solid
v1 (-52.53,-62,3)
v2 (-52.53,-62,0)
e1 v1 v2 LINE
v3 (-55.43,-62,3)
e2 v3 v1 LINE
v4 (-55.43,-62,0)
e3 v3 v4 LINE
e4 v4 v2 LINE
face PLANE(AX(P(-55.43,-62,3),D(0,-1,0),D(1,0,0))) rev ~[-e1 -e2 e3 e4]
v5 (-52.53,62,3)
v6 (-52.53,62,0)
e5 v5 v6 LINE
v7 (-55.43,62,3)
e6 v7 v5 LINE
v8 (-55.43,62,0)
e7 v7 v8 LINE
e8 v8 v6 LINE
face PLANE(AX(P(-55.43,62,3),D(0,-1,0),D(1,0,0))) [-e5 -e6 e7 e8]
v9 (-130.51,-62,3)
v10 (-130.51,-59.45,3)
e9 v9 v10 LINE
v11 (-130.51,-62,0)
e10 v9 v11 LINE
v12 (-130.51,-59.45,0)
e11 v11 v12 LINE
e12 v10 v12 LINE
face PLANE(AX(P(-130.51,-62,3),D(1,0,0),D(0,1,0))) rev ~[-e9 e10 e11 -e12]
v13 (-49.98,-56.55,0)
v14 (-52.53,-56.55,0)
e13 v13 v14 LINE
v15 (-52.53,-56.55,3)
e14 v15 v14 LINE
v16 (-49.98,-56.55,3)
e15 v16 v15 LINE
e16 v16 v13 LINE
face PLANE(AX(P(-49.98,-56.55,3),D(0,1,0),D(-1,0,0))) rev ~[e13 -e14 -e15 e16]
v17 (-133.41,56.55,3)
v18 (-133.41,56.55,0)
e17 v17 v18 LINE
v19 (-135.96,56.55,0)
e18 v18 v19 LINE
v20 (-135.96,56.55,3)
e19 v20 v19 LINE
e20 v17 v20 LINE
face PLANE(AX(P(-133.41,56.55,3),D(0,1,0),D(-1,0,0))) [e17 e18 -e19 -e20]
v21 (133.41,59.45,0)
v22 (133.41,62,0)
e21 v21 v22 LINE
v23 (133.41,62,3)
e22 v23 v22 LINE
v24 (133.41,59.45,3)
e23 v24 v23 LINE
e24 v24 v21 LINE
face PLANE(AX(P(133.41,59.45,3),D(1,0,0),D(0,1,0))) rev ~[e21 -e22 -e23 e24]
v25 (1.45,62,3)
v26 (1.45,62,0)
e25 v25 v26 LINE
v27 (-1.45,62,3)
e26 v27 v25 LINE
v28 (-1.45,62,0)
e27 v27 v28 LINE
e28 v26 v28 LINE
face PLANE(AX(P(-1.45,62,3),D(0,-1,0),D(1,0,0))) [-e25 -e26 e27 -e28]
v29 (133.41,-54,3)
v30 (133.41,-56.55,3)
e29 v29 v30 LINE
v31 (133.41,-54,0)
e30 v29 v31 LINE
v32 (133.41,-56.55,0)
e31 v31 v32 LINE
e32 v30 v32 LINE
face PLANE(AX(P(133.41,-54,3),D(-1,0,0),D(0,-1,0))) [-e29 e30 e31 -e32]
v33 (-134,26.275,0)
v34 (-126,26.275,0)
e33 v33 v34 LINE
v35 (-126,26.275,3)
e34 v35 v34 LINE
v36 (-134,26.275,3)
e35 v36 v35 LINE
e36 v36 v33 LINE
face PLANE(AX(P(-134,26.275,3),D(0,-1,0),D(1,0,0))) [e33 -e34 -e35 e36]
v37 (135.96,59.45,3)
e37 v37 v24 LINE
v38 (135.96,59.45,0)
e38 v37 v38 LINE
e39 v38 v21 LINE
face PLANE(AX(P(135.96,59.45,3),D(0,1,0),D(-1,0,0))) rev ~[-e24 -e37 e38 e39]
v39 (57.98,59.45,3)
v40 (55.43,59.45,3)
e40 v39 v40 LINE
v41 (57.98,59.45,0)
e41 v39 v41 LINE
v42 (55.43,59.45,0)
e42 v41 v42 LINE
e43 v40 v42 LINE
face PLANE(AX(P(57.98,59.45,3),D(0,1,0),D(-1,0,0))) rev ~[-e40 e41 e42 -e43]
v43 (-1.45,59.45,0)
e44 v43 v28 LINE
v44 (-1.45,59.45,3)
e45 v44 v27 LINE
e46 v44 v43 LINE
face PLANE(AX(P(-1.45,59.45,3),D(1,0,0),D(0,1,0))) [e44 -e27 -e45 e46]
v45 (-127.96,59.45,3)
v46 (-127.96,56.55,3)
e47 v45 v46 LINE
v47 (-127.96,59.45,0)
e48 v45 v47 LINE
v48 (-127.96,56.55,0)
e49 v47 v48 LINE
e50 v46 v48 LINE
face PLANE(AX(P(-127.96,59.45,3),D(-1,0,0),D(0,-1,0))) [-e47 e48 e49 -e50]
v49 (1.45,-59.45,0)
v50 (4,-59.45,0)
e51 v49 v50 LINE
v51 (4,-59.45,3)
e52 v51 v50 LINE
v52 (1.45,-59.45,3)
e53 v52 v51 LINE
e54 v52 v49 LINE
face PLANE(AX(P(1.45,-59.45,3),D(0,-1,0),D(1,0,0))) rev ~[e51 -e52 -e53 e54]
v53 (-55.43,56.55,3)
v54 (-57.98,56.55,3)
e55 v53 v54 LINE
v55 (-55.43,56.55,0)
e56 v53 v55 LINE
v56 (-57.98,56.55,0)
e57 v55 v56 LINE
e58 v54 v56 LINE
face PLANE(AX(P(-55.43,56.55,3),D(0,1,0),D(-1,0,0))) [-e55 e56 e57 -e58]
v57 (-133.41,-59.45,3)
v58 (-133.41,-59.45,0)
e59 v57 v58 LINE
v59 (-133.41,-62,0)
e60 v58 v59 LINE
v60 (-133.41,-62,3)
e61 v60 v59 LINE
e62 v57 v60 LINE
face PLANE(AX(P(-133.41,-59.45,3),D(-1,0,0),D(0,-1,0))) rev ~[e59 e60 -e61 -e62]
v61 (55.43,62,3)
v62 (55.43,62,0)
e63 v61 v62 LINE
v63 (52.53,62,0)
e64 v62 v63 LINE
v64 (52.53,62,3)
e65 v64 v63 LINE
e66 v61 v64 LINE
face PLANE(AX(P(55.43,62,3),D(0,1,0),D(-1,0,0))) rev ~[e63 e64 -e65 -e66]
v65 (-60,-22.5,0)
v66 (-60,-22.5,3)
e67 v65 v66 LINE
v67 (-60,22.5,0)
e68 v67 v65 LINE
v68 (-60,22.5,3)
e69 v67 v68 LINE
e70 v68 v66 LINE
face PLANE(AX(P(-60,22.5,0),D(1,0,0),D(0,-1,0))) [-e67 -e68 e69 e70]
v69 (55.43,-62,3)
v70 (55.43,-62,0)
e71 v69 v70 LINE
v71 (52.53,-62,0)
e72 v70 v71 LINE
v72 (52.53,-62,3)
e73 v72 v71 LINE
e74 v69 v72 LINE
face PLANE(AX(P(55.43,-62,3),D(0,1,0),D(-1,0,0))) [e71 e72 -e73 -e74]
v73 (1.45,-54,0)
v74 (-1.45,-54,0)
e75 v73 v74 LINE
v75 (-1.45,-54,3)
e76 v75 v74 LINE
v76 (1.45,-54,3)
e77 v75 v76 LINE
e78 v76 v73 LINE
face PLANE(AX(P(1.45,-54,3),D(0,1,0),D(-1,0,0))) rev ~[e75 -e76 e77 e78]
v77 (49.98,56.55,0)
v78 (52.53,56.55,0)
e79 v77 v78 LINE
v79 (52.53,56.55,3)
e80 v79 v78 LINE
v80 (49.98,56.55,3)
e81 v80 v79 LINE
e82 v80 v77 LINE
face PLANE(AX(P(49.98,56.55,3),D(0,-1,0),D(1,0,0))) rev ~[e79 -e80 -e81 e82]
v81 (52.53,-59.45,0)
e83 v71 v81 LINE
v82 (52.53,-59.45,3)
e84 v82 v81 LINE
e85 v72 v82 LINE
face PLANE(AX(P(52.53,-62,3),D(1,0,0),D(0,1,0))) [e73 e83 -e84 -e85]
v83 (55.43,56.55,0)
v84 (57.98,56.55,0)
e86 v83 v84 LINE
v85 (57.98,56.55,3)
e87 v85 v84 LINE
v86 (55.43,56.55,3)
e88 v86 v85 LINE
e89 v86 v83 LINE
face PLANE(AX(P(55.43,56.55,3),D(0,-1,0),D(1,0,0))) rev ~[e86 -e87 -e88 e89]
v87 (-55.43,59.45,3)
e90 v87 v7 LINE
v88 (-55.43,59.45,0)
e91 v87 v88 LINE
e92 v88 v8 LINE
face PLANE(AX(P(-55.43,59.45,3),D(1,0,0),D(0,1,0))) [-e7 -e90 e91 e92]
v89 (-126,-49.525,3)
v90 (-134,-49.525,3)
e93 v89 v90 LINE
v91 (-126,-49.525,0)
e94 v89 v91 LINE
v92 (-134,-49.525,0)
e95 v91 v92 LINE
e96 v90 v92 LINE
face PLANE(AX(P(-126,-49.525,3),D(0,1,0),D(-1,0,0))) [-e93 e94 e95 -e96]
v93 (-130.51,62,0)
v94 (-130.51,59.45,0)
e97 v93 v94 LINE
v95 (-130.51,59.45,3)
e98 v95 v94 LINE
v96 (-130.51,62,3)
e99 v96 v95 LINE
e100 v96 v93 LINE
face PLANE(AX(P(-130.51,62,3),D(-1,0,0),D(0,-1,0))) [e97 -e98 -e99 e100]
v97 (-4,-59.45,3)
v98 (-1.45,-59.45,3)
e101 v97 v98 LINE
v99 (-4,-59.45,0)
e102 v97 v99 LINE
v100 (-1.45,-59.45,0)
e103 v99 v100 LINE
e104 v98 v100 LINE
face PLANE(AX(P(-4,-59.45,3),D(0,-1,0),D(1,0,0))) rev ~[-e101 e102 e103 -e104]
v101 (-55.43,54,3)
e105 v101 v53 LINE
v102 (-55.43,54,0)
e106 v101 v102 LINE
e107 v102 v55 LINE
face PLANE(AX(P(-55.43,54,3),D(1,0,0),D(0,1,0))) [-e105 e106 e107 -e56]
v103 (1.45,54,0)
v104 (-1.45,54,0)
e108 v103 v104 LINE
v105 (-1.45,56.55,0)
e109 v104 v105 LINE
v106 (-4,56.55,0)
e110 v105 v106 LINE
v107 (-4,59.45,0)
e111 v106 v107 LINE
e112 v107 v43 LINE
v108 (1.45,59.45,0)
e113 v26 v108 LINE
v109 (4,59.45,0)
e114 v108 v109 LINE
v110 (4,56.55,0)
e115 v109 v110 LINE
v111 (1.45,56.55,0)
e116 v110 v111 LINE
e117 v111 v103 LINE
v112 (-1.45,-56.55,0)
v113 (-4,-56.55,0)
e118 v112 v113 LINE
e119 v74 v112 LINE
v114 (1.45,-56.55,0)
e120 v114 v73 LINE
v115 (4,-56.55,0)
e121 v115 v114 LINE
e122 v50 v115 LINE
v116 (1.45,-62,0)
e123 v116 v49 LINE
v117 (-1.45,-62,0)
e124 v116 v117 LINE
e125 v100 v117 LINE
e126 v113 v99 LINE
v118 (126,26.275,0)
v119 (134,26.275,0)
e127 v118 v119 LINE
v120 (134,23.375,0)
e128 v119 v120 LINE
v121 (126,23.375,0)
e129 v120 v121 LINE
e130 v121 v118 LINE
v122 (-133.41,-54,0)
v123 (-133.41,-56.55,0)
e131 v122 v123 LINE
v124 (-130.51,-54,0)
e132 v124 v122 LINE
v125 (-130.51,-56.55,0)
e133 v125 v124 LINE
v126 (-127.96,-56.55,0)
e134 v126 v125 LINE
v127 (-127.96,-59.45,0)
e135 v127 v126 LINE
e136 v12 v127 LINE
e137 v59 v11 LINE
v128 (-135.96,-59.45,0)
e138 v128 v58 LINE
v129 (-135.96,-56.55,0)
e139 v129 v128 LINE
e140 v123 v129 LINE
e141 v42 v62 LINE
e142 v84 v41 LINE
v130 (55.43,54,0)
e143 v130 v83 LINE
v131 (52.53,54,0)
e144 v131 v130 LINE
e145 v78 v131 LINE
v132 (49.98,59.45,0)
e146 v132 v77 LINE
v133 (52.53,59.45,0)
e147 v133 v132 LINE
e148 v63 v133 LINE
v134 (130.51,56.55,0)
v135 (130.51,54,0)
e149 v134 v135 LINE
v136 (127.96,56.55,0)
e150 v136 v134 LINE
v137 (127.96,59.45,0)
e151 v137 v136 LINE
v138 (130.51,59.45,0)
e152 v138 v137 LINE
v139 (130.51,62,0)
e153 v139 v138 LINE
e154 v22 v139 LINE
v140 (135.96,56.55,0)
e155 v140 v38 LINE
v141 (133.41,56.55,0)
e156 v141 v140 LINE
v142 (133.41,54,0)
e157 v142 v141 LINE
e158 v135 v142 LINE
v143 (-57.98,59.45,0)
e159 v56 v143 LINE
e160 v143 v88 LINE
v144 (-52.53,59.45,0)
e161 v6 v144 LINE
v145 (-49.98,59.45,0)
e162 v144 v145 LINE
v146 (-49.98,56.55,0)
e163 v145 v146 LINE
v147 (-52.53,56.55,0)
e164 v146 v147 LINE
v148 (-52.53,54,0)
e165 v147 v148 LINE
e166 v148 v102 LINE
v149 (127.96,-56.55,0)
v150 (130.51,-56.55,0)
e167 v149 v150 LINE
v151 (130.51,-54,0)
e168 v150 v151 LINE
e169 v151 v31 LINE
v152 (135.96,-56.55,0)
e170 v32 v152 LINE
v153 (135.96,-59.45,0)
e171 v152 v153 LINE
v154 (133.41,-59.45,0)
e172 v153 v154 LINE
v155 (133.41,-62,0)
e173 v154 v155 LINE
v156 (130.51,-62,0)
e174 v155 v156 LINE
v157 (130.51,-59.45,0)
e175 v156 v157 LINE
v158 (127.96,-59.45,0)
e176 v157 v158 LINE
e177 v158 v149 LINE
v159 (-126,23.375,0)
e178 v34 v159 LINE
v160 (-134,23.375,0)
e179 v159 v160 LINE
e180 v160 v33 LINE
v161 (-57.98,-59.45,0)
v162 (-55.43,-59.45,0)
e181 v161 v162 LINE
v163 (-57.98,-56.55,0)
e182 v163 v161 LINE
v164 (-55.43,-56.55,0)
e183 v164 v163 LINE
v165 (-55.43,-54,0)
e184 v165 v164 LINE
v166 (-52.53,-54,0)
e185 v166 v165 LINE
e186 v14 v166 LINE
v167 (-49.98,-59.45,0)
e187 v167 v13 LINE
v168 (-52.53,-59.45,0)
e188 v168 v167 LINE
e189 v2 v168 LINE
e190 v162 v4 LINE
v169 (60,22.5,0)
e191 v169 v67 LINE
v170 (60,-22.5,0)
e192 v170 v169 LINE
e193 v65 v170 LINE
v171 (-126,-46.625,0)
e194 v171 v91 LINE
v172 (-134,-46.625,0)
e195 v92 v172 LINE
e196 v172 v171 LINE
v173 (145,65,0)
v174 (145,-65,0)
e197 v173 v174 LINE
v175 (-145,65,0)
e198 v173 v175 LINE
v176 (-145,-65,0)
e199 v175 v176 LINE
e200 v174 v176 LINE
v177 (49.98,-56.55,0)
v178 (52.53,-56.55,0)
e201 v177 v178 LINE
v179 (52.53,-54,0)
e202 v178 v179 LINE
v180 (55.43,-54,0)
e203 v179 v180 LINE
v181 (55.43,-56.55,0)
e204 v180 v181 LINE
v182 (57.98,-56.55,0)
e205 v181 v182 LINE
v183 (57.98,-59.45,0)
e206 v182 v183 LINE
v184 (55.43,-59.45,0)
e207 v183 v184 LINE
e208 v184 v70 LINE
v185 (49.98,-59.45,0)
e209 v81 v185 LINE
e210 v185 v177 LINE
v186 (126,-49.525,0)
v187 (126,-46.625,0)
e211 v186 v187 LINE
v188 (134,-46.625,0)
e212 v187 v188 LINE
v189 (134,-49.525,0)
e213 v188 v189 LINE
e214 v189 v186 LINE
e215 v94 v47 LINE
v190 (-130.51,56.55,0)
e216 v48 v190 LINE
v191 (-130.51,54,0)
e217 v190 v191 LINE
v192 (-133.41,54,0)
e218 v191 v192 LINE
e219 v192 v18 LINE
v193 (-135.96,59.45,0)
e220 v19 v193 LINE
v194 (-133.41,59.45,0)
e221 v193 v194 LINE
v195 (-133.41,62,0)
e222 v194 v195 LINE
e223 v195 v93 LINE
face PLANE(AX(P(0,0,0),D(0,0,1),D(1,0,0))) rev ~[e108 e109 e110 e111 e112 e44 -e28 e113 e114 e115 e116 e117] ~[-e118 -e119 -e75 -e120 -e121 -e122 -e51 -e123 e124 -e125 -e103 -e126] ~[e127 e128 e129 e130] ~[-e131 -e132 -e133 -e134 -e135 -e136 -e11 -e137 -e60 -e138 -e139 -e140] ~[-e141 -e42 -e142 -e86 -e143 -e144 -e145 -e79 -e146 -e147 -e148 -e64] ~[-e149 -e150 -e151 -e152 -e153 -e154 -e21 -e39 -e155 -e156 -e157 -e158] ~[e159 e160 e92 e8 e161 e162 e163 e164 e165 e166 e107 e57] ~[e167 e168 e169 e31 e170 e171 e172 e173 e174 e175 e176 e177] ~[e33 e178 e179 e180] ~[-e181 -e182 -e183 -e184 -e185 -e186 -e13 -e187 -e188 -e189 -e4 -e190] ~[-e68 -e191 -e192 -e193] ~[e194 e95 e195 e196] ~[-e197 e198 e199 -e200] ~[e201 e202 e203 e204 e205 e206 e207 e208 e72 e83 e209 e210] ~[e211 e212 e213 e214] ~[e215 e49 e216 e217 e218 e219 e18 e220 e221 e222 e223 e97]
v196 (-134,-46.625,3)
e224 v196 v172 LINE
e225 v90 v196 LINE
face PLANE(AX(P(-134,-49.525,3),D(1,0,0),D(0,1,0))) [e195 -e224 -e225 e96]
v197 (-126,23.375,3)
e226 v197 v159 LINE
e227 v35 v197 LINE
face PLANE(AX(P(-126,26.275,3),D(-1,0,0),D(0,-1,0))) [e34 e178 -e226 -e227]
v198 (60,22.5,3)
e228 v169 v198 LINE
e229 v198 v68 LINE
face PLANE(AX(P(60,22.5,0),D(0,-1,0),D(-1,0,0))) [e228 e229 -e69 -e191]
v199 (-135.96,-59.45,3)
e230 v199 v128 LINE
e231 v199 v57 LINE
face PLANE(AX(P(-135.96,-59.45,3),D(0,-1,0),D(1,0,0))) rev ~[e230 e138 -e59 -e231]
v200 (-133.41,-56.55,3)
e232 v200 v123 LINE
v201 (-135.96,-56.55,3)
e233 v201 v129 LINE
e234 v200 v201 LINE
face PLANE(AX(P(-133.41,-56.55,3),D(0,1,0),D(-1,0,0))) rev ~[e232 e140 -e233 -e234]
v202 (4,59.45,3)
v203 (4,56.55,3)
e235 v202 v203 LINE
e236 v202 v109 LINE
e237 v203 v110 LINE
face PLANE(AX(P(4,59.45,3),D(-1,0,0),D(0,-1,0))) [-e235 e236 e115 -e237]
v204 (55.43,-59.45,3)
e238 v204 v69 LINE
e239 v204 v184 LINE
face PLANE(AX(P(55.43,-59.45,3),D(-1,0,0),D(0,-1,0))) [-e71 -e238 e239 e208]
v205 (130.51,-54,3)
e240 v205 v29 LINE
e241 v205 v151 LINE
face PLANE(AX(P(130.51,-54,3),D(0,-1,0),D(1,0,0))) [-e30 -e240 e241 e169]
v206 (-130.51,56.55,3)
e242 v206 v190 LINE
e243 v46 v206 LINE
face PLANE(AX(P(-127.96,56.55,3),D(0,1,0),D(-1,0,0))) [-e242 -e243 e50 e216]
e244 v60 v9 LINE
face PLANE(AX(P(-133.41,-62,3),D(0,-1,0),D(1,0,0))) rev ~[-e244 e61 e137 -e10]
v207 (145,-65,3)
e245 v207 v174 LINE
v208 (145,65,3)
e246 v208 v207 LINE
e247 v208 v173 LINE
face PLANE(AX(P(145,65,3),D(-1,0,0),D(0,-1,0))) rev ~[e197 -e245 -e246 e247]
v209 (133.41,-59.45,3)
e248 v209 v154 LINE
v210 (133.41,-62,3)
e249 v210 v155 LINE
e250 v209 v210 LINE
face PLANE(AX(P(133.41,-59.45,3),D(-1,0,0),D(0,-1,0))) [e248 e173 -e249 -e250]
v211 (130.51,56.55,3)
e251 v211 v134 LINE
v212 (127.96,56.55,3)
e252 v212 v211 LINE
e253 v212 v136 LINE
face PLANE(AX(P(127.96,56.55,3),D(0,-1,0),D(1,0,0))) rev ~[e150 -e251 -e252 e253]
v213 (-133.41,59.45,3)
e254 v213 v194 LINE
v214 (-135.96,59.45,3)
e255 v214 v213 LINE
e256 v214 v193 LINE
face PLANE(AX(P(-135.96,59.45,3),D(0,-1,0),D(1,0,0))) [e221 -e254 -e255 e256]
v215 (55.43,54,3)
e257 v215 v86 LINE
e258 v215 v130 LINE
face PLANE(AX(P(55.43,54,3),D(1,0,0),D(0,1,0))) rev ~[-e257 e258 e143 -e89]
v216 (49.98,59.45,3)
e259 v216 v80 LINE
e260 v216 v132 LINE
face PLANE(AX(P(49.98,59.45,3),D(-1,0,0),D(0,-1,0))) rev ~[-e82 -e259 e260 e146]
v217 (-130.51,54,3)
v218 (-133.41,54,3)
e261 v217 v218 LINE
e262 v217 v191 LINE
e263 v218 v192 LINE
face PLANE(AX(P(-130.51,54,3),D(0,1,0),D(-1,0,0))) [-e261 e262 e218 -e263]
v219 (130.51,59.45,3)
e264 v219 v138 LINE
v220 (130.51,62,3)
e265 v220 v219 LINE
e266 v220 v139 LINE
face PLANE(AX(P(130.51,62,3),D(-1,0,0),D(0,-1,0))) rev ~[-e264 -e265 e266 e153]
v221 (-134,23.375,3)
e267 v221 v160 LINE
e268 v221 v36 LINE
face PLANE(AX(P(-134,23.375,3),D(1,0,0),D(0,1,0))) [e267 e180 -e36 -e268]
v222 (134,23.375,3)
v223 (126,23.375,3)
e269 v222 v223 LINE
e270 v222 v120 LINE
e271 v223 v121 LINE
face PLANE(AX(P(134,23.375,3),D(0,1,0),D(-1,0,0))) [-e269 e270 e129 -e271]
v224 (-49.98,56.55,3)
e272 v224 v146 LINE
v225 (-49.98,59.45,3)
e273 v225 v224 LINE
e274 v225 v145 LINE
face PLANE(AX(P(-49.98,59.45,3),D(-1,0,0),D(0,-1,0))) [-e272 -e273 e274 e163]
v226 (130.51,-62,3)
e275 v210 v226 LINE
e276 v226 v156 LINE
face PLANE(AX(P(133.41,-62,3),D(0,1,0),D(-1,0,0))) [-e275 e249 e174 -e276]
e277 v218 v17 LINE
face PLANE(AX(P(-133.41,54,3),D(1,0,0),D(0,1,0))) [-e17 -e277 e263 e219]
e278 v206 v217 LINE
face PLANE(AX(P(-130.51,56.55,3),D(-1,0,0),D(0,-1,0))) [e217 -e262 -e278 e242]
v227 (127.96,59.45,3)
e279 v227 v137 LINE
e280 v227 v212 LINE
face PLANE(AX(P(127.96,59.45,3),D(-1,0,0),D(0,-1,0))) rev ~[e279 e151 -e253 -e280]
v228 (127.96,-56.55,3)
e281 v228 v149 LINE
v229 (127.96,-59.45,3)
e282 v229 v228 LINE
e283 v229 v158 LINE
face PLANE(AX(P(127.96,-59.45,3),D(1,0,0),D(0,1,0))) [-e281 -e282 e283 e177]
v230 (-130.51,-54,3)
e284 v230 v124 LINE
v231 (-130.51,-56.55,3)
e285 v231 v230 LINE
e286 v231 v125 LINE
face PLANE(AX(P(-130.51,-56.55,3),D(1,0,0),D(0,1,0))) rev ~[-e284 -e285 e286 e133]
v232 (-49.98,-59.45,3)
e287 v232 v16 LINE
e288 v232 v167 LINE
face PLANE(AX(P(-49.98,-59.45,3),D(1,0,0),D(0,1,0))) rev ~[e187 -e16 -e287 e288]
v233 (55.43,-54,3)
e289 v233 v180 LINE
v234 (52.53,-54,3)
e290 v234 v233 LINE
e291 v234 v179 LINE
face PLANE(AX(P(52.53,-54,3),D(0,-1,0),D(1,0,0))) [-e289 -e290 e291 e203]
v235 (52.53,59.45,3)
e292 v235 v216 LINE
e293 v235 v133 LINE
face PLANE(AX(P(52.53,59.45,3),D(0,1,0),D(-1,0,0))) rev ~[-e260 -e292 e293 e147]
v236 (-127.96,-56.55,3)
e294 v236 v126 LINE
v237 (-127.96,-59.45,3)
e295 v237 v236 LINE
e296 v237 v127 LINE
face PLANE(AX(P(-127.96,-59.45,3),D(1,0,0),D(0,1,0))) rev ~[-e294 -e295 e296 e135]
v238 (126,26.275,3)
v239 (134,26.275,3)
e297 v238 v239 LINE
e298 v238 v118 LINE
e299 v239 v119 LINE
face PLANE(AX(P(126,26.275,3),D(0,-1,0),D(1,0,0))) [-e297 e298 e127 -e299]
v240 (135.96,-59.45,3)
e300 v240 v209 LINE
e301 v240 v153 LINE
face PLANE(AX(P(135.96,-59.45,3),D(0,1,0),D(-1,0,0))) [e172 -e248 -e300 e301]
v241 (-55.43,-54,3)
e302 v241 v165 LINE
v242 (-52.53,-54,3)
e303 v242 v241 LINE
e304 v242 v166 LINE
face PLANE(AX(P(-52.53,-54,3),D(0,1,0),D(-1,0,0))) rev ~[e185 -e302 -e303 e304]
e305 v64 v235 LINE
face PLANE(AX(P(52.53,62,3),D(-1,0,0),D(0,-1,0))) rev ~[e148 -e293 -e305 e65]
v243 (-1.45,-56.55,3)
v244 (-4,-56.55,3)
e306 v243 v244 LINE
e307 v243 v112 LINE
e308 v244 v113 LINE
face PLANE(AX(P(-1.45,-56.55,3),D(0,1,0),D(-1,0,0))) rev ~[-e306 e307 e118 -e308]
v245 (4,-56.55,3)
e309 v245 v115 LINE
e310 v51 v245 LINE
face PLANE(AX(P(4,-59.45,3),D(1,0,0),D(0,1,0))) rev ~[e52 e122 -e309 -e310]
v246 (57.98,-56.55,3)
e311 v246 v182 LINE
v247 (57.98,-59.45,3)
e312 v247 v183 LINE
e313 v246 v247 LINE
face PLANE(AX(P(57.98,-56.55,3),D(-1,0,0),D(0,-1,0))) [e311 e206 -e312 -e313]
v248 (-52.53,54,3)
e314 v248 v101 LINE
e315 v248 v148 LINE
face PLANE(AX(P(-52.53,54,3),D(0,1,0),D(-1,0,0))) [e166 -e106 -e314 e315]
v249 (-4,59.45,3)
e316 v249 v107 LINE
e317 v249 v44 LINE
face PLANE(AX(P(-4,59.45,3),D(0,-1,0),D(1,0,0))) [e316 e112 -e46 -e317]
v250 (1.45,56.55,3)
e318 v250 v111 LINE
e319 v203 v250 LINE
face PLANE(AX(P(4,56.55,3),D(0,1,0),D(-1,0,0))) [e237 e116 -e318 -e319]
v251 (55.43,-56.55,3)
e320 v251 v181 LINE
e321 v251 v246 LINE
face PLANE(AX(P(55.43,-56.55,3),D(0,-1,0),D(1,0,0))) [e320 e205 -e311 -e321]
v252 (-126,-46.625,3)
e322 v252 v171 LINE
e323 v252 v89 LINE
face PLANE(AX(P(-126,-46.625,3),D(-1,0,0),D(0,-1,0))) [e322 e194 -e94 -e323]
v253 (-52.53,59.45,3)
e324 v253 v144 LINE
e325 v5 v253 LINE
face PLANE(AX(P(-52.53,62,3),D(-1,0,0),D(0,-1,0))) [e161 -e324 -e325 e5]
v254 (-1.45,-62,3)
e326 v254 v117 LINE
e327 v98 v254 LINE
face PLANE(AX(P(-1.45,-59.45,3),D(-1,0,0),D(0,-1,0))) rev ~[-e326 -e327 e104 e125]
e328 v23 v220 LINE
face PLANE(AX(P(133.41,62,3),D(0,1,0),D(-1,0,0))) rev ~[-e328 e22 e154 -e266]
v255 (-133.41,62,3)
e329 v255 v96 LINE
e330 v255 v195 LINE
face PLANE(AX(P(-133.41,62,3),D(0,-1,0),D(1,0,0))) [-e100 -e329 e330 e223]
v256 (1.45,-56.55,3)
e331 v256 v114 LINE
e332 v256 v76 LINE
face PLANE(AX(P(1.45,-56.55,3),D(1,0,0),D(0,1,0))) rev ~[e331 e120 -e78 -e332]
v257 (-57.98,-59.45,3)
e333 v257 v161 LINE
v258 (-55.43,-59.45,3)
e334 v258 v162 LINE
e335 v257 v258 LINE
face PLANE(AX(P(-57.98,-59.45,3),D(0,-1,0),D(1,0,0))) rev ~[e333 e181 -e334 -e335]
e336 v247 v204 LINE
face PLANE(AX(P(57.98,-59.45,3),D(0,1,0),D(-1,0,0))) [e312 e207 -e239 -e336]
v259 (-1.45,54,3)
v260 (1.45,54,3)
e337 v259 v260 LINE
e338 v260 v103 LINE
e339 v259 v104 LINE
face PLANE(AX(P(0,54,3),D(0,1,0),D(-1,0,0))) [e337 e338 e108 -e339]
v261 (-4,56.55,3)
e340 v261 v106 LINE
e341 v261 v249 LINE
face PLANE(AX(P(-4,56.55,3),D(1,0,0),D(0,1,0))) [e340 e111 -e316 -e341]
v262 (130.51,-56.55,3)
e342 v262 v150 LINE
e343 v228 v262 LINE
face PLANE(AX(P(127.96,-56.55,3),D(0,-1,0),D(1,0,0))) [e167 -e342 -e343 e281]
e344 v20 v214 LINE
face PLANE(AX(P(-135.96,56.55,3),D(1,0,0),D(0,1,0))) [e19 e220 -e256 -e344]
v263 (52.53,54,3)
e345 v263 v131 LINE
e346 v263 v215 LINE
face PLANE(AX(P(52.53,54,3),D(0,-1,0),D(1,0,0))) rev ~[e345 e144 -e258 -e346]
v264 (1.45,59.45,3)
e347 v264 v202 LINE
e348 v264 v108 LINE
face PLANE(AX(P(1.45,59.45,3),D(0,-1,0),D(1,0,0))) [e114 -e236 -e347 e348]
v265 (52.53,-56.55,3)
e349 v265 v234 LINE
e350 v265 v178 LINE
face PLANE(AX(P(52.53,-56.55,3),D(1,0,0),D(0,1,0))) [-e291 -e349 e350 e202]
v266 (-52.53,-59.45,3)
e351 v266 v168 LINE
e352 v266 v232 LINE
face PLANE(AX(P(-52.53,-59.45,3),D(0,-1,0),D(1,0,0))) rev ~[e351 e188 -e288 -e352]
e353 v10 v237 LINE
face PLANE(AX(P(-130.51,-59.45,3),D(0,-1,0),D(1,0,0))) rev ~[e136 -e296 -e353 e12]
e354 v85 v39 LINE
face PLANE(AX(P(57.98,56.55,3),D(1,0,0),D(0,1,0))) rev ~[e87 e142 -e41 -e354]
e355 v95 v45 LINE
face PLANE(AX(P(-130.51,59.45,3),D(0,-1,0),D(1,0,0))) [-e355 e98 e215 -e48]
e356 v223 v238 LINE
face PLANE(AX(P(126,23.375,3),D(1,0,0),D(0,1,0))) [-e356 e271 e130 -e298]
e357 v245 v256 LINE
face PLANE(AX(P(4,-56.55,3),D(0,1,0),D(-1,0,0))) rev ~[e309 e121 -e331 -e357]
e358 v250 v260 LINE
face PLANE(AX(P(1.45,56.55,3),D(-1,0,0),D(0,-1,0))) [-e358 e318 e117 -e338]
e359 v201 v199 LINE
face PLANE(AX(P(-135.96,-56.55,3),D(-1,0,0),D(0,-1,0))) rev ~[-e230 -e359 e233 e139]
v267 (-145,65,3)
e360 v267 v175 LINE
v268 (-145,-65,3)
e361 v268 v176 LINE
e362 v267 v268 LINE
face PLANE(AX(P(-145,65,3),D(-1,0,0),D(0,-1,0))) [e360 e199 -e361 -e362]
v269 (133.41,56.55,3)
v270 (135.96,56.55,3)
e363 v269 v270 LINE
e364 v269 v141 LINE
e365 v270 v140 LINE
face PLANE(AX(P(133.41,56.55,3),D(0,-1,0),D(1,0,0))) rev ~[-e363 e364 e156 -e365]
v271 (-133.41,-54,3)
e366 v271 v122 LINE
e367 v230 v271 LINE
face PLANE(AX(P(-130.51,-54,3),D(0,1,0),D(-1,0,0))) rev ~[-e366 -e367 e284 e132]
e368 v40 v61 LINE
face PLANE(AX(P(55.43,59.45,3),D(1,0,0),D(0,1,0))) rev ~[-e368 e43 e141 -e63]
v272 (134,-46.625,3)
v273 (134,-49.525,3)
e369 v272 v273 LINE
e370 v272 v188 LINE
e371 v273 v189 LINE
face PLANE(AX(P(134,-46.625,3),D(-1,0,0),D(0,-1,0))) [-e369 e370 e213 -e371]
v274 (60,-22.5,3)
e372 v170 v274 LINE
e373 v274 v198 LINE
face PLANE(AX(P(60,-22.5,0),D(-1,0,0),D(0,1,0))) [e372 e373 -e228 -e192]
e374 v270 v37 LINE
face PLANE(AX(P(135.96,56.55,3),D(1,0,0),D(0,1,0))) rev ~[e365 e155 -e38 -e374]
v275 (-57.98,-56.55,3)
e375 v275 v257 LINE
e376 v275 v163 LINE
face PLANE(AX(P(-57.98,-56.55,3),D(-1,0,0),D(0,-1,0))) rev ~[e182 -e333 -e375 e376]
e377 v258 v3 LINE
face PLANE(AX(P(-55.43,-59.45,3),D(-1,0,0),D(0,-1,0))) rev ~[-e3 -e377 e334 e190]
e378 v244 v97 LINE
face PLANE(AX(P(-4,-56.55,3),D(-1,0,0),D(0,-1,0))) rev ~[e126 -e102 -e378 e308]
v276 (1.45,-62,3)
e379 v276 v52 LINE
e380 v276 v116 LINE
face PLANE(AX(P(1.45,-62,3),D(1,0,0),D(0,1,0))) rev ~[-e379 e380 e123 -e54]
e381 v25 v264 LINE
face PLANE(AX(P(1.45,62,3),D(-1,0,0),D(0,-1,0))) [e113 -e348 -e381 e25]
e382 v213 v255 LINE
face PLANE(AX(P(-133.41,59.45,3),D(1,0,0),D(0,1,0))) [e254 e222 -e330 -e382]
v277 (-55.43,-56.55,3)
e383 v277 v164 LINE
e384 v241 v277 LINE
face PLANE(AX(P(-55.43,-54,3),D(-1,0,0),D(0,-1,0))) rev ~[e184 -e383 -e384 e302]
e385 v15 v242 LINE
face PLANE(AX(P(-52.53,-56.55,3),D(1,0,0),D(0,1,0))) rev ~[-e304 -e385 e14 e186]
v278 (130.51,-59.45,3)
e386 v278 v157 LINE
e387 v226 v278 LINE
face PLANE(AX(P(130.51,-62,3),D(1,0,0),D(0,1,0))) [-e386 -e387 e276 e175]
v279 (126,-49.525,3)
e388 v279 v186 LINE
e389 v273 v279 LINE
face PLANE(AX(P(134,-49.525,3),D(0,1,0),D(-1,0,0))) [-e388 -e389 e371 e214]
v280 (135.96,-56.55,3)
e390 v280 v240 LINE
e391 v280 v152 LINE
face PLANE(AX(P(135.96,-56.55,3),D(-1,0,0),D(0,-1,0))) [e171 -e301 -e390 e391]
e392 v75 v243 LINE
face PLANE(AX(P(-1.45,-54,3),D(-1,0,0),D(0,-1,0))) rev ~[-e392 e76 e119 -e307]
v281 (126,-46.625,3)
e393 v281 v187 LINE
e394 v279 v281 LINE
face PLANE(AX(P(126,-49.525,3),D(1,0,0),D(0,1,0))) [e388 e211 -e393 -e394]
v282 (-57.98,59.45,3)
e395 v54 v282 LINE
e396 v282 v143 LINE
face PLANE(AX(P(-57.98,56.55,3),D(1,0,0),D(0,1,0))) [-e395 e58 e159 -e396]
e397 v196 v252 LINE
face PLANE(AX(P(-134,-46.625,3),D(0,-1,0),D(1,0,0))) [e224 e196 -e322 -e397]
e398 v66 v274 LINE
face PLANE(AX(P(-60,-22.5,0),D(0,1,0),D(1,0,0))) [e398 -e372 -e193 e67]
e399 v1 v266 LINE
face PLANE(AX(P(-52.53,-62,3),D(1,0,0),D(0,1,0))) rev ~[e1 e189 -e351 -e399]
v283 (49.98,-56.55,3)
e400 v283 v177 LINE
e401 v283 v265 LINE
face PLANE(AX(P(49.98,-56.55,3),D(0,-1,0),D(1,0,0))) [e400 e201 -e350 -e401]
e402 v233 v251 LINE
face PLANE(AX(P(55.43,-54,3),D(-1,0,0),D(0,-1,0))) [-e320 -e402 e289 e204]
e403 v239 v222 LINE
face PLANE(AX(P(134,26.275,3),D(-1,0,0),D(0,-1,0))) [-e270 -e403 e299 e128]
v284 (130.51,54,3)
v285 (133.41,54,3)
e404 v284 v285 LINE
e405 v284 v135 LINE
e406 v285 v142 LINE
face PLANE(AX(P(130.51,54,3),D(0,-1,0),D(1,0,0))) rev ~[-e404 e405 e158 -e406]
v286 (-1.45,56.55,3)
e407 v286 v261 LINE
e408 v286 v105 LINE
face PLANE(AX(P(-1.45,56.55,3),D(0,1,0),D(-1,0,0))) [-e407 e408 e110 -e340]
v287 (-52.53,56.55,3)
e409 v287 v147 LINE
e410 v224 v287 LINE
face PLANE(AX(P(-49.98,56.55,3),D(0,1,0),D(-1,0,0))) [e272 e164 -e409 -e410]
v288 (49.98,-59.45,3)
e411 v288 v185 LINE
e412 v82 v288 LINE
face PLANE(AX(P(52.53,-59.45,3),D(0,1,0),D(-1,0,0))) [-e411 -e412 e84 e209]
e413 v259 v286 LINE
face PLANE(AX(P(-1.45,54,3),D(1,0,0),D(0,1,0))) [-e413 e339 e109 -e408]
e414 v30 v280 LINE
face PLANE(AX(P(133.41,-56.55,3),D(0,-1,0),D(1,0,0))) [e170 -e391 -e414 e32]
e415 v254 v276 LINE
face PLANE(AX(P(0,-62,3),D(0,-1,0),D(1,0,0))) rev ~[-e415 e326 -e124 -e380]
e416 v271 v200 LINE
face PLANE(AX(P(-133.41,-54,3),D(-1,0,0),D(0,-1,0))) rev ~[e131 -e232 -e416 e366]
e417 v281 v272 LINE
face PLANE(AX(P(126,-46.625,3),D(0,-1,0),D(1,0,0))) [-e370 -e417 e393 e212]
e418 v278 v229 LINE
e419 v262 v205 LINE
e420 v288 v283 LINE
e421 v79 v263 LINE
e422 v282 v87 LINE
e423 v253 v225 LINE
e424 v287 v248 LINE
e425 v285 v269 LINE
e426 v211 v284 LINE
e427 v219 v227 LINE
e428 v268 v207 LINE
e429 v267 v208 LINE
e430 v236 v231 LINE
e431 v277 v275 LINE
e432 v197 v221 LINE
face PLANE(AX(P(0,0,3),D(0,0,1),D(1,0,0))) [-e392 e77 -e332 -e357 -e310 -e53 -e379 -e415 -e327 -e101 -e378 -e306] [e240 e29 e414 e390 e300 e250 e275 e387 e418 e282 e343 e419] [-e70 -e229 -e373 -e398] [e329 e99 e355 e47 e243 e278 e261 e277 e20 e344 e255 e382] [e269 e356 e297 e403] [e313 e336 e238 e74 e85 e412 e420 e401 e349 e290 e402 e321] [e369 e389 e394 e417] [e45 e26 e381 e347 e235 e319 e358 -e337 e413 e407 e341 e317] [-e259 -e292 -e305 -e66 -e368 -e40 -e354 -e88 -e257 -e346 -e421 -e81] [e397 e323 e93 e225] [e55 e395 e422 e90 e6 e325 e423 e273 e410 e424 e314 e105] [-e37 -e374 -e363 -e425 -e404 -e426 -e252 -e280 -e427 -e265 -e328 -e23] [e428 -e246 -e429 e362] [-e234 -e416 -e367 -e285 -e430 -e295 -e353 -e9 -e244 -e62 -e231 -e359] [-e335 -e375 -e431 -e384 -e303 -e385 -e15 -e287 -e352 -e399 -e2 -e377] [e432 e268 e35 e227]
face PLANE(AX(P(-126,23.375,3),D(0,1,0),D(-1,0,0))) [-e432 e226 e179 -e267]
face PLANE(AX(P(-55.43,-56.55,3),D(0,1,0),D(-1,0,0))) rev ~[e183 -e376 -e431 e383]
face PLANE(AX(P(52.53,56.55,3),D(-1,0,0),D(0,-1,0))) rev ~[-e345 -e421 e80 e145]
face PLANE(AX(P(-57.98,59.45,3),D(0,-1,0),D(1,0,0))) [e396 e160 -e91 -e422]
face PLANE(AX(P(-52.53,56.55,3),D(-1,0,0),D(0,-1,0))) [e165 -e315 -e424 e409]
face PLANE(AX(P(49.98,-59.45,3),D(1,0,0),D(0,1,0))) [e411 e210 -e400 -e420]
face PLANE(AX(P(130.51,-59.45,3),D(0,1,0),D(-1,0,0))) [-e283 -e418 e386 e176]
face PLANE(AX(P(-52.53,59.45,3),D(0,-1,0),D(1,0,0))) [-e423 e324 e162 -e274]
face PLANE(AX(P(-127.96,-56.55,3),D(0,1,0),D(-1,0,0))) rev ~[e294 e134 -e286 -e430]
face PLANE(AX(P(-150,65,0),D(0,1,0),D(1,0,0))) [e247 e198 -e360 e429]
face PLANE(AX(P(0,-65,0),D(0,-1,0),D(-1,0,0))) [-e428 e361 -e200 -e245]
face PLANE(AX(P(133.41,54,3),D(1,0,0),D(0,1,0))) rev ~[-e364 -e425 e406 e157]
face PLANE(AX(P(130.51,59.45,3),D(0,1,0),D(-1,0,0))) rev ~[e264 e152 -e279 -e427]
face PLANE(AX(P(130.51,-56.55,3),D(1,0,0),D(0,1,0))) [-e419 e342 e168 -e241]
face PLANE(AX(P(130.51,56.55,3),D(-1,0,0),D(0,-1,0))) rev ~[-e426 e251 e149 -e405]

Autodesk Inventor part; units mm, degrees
ref_plane "YZ Plane" through (0, 0, 0) normal (1, 0, 0) x (0, 1, 0)
ref_plane "XY Plane" through (0, 0, 0) normal (0, 0, 1) x (1, 0, 0)
sketch "草圖1" plane through (0, 0, 0) normal (0, 0, 1) x (1, 0, 0)
  line L0 (-150, 65) -> (150, 65)
  line L1 (150, 65) -> (150, -65)
  line L2 (150, -65) -> (-150, -65)
  line L3 (-150, -65) -> (-150, 65)
  line L4 (0, -91) -> (0, 91) projected
  line L5 (-210, 0) -> (210, 0) projected
  point P0 (0, 0)
  dimension "d0" = 300
  dimension "d1" = 130
extrude "擠出1" add sketch "草圖1" along normal blind 3
sketch "草圖2" plane through (0, 0, 3) normal (0, 0, 1) x (1, 0, 0)
  line L0 (-1.45, 62) -> (1.45, 62)
  line L1 (1.45, 62) -> (1.45, 54)
  line L2 (1.45, 54) -> (-1.45, 54)
  line L3 (-1.45, 54) -> (-1.45, 62)
  line L4 (-4, 59.45) -> (4, 59.45)
  line L5 (4, 59.45) -> (4, 56.55)
  line L6 (4, 56.55) -> (-4, 56.55)
  line L7 (-4, 56.55) -> (-4, 59.45)
  line L8 (150, 65) -> (-150, 65) projected
  line L9 (1.45, 62) -> (-1.45, 54)
  line L10 (-1.45, 62) -> (1.45, 54)
  line L11 (4, 59.45) -> (-4, 56.55)
  line L12 (-4, 59.45) -> (4, 56.55)
  line L13 (-55.43, 62) -> (-52.53, 62)
  line L14 (-52.53, 62) -> (-52.53, 54)
  line L15 (-52.53, 54) -> (-55.43, 54)
  line L16 (-55.43, 54) -> (-55.43, 62)
  line L17 (-57.98, 59.45) -> (-49.98, 59.45)
  line L18 (-49.98, 59.45) -> (-49.98, 56.55)
  line L19 (-49.98, 56.55) -> (-57.98, 56.55)
  line L20 (-57.98, 56.55) -> (-57.98, 59.45)
  line L21 (-52.53, 62) -> (-55.43, 54)
  line L22 (-55.43, 62) -> (-52.53, 54)
  line L23 (-49.98, 59.45) -> (-57.98, 56.55)
  line L24 (-57.98, 59.45) -> (-49.98, 56.55)
  line L25 (-133.41, 62) -> (-130.51, 62)
  line L26 (-130.51, 62) -> (-130.51, 54)
  line L27 (-130.51, 54) -> (-133.41, 54)
  line L28 (-133.41, 54) -> (-133.41, 62)
  line L29 (-135.96, 56.55) -> (-135.96, 59.45)
  line L30 (-130.51, 62) -> (-133.41, 54)
  line L31 (-133.41, 62) -> (-130.51, 54)
  line L32 (-135.96, 59.45) -> (-127.96, 59.45)
  line L33 (-127.96, 56.55) -> (-135.96, 56.55)
  line L34 (-127.96, 59.45) -> (-135.96, 56.55)
  line L35 (-135.96, 59.45) -> (-127.96, 56.55)
  line L36 (-127.96, 59.45) -> (-127.96, 56.55)
  line L37 (-150, 65) -> (-150, -65) projected
  line L38 (-150, 0) -> (145, 0)
  line L39 (0, 65) -> (0, -65)
  line L40 (55.43, 62) -> (52.53, 62)
  line L41 (52.53, 62) -> (52.53, 54)
  line L42 (52.53, 54) -> (55.43, 54)
  line L43 (55.43, 54) -> (55.43, 62)
  line L44 (57.98, 56.55) -> (57.98, 59.45)
  line L45 (52.53, 62) -> (55.43, 54)
  line L46 (55.43, 62) -> (52.53, 54)
  line L47 (57.98, 59.45) -> (49.98, 59.45)
  line L48 (49.98, 56.55) -> (57.98, 56.55)
  line L49 (49.98, 59.45) -> (57.98, 56.55)
  line L50 (57.98, 59.45) -> (49.98, 56.55)
  line L51 (49.98, 59.45) -> (49.98, 56.55)
  line L52 (127.96, 59.45) -> (127.96, 56.55)
  line L53 (130.51, 62) -> (130.51, 54)
  line L54 (133.41, 54) -> (133.41, 62)
  line L55 (130.51, 62) -> (133.41, 54)
  line L56 (133.41, 62) -> (130.51, 54)
  line L57 (130.51, 54) -> (133.41, 54)
  line L58 (135.96, 59.45) -> (127.96, 59.45)
  line L59 (135.96, 59.45) -> (127.96, 56.55)
  line L60 (135.96, 56.55) -> (135.96, 59.45)
  line L61 (127.96, 56.55) -> (135.96, 56.55)
  line L62 (127.96, 59.45) -> (135.96, 56.55)
  line L63 (133.41, 62) -> (130.51, 62)
  line L64 (-1.45, -62) -> (1.45, -62)
  line L65 (1.45, -62) -> (1.45, -54)
  line L66 (1.45, -54) -> (-1.45, -54)
  line L67 (-1.45, -54) -> (-1.45, -62)
  line L68 (-4, -59.45) -> (4, -59.45)
  line L69 (4, -59.45) -> (4, -56.55)
  line L70 (4, -56.55) -> (-4, -56.55)
  line L71 (-4, -56.55) -> (-4, -59.45)
  line L72 (1.45, -62) -> (-1.45, -54)
  line L73 (-1.45, -62) -> (1.45, -54)
  line L74 (4, -59.45) -> (-4, -56.55)
  line L75 (-4, -59.45) -> (4, -56.55)
  line L76 (-55.43, -62) -> (-52.53, -62)
  line L77 (-52.53, -62) -> (-52.53, -54)
  line L78 (-52.53, -54) -> (-55.43, -54)
  line L79 (-55.43, -54) -> (-55.43, -62)
  line L80 (-57.98, -56.55) -> (-57.98, -59.45)
  line L81 (-52.53, -62) -> (-55.43, -54)
  line L82 (-55.43, -62) -> (-52.53, -54)
  line L83 (-57.98, -59.45) -> (-49.98, -59.45)
  line L84 (-49.98, -56.55) -> (-57.98, -56.55)
  line L85 (-49.98, -59.45) -> (-57.98, -56.55)
  line L86 (-57.98, -59.45) -> (-49.98, -56.55)
  line L87 (-49.98, -59.45) -> (-49.98, -56.55)
  line L88 (-127.96, -59.45) -> (-127.96, -56.55)
  line L89 (-130.51, -62) -> (-130.51, -54)
  line L90 (-133.41, -54) -> (-133.41, -62)
  line L91 (-130.51, -62) -> (-133.41, -54)
  line L92 (-133.41, -62) -> (-130.51, -54)
  line L93 (-130.51, -54) -> (-133.41, -54)
  line L94 (-135.96, -59.45) -> (-127.96, -59.45)
  line L95 (-135.96, -59.45) -> (-127.96, -56.55)
  line L96 (-135.96, -56.55) -> (-135.96, -59.45)
  line L97 (-127.96, -56.55) -> (-135.96, -56.55)
  line L98 (-127.96, -59.45) -> (-135.96, -56.55)
  line L99 (-133.41, -62) -> (-130.51, -62)
  line L100 (52.53, -62) -> (52.53, -54)
  line L101 (52.53, -62) -> (55.43, -54)
  line L102 (55.43, -62) -> (52.53, -54)
  line L103 (55.43, -62) -> (52.53, -62)
  line L104 (57.98, -56.55) -> (57.98, -59.45)
  line L105 (57.98, -59.45) -> (49.98, -59.45)
  line L106 (49.98, -56.55) -> (57.98, -56.55)
  line L107 (49.98, -59.45) -> (57.98, -56.55)
  line L108 (55.43, -54) -> (55.43, -62)
  line L109 (52.53, -54) -> (55.43, -54)
  line L110 (49.98, -59.45) -> (49.98, -56.55)
  line L111 (57.98, -59.45) -> (49.98, -56.55)
  line L112 (127.96, -59.45) -> (127.96, -56.55)
  line L113 (130.51, -54) -> (133.41, -54)
  line L114 (130.51, -62) -> (130.51, -54)
  line L115 (133.41, -62) -> (130.51, -62)
  line L116 (133.41, -54) -> (133.41, -62)
  line L117 (133.41, -62) -> (130.51, -54)
  line L118 (130.51, -62) -> (133.41, -54)
  line L119 (127.96, -56.55) -> (135.96, -56.55)
  line L120 (135.96, -59.45) -> (127.96, -59.45)
  line L121 (135.96, -59.45) -> (127.96, -56.55)
  line L122 (127.96, -59.45) -> (135.96, -56.55)
  line L123 (135.96, -56.55) -> (135.96, -59.45)
  line L124 (-134, 26.275) -> (-126, 26.275)
  line L125 (-126, 26.275) -> (-126, 23.375)
  line L126 (-126, 23.375) -> (-134, 23.375)
  line L127 (-134, 23.375) -> (-134, 26.275)
  line L128 (126, 26.275) -> (134, 26.275)
  line L129 (134, 26.275) -> (134, 23.375)
  line L130 (134, 23.375) -> (126, 23.375)
  line L131 (126, 23.375) -> (126, 26.275)
  line L132 (-134, -46.625) -> (-126, -46.625)
  line L133 (-126, -46.625) -> (-126, -49.525)
  line L134 (-126, -49.525) -> (-134, -49.525)
  line L135 (-134, -49.525) -> (-134, -46.625)
  line L136 (126, -46.625) -> (134, -46.625)
  line L137 (134, -46.625) -> (134, -49.525)
  line L138 (134, -49.525) -> (126, -49.525)
  line L139 (126, -49.525) -> (126, -46.625)
  point P0 (0, 0)
  point P1 (0, 58)
  point P2 (0, 58)
  point P3 (-53.98, 58)
  point P4 (-53.98, 58)
  point P5 (-53.98, 58)
  point P6 (0, 58)
  point P7 (-131.96, 58)
  point P8 (-131.96, 58)
  point P9 (-131.96, 58)
  point P10 (53.98, 58)
  point P11 (53.98, 58)
  point P12 (53.98, 58)
  point P13 (131.96, 58)
  point P14 (131.96, 58)
  point P15 (131.96, 58)
  point P16 (0, -58)
  point P17 (0, -58)
  point P18 (-53.98, -58)
  point P19 (-53.98, -58)
  point P20 (-53.98, -58)
  point P21 (0, -58)
  point P22 (-131.96, -58)
  point P23 (-131.96, -58)
  point P24 (-131.96, -58)
  point P25 (53.98, -58)
  point P26 (53.98, -58)
  point P27 (53.98, -58)
  point P28 (131.96, -58)
  point P29 (131.96, -58)
  point P30 (131.96, -58)
  point P31 (-133.41, -59.45)
  point P32 (-130.51, -59.45)
  point P33 (-130.51, -56.55)
  point P34 (-133.41, -56.55)
  point P35 (-55.43, -56.55)
  point P36 (-55.43, -59.45)
  point P37 (-52.53, -59.45)
  point P38 (-52.53, -56.55)
  point P39 (1.45, -56.55)
  point P40 (-1.45, -56.55)
  point P41 (-1.45, -59.45)
  point P42 (1.45, -59.45)
  point P43 (55.43, -59.45)
  point P44 (55.43, -56.55)
  point P45 (52.53, -56.55)
  point P46 (52.53, -59.45)
  point P47 (133.41, -56.55)
  point P48 (130.51, -56.55)
  point P49 (130.51, -59.45)
  point P50 (133.41, -59.45)
  point P51 (133.41, 59.45)
  point P52 (130.51, 59.45)
  point P53 (130.51, 56.55)
  point P54 (133.41, 56.55)
  point P55 (52.53, 56.55)
  point P56 (55.43, 56.55)
  point P57 (55.43, 59.45)
  point P58 (52.53, 59.45)
  point P59 (-1.45, 59.45)
  point P60 (-1.45, 56.55)
  point P61 (1.45, 56.55)
  point P62 (1.45, 59.45)
  point P63 (-52.53, 59.45)
  point P64 (-55.43, 59.45)
  point P65 (-55.43, 56.55)
  point P66 (-52.53, 56.55)
  point P67 (-130.51, 59.45)
  point P68 (-133.41, 59.45)
  point P69 (-133.41, 56.55)
  point P70 (-130.51, 56.55)
  point P71 (134, 24.825)
  point P72 (-130, -46.625)
  point P73 (-130, 23.375)
  dimension "d4" = 2.9
  dimension "d5" = 8
  dimension "d6" = 3
  dimension "d7" = 2.9
  dimension "d8" = 8
  dimension "d9" = 51.08
  dimension "d10" = 2.9
  dimension "d11" = 8
  dimension "d13" = 75.08
  dimension "d20" = 2.9
  dimension "d21" = 8
  dimension "d22" = 252
  dimension "d23" = 38.725
  dimension "d24" = 2.9
  dimension "d25" = 8
  dimension "d26" = 252
  dimension "d27" = 70
extrude "擠出2" cut sketch "草圖2" against normal blind 3 contours L10 L4 L3 | L0 L39 L4 L10 | L66 L73 L70 L39 | L39 L70 L72 L66 | L0 L9 L4 L39 | L4 L10 L12 L3 | L3 L12 L4 | L4 L39 L10 | L1 L4 L9 | L4 L9 L39 | L12 L11 L3 | L3 L11 L7 L12 | L39 L6 L9 | L12 L1 L6 L10 | L9 L4 L1 L11 | L9 L6 L3 L11 | L11 L1 L12 | L10 L6 L39 | L4 L11 L1 | L3 L6 L11 | L9 L3 L6 | L6 L39 L2 L9 | L10 L2 L39 L6 | L6 L1 L10 | L11 L5 L12 L1 | L12 L6 L1 | L70 L73 L39 | L39 L72 L70 | L65 L70 L73 | L72 L70 L67 | L72 L68 L39 | L74 L65 L68 L72 | L74 L67 L70 L72 | L39 L68 L73 | L75 L65 L74 | L75 L67 L74 | L73 L68 L67 L75 | L73 L70 L65 L75 | L70 L75 L65 | L67 L74 L70 | L68 L72 L64 L39 | L39 L64 L73 L68 | L68 L65 L72 | L73 L67 L68 | L74 L68 L65 | L65 L75 L69 L74 | L67 L75 L71 L74 | L67 L68 L75 | L22 L17 L16 | L13 L21 L17 L22 | L14 L17 L21 | L17 L22 L24 L16 | L16 L24 L17 | L17 L21 L22 | L17 L23 L14 | L14 L23 L21 L17 | L24 L23 L16 | L16 L23 L20 L24 | L22 L19 L21 | L24 L14 L19 L22 | L21 L19 L16 L23 | L23 L14 L24 | L23 L18 L24 L14 | L16 L19 L23 | L21 L16 L19 | L19 L22 L15 L21 | L19 L14 L22 | L24 L19 L14 | L31 L32 L28 | L25 L30 L32 L31 | L26 L32 L30 | L32 L31 L35 L28 | L28 L35 L32 | L32 L30 L31 | L32 L34 L26 | L26 L34 L30 L32 | L35 L34 L28 | L28 L34 L29 L35 | L31 L33 L30 | L35 L26 L33 L31 | L30 L33 L28 L34 | L34 L26 L35 | L34 L36 L35 L26 | L28 L33 L34 | L33 L31 L27 L30 | L30 L28 L33 | L33 L26 L31 | L35 L33 L26 | L46 L47 L45 L40 | L43 L47 L46 | L45 L47 L41 | L47 L50 L43 | L43 L50 L46 L47 | L46 L45 L47 | L47 L45 L49 L41 | L41 L49 L47 | L50 L44 L49 L43 | L43 L49 L50 | L49 L43 L48 L45 | L45 L48 L46 | L50 L41 L49 | L46 L48 L41 L50 | L41 L50 L51 L49 | L49 L48 L43 | L48 L43 L45 | L45 L42 L46 L48 | L46 L41 L48 | L41 L48 L50 | L62 L53 L59 L52 | L58 L53 L62 | L59 L53 L61 | L58 L55 L62 L53 | L53 L55 L58 | L62 L59 L53 | L59 L56 L61 L53 | L61 L56 L53 | L63 L56 L58 L55 | L58 L56 L55 | L62 L54 L61 L55 | L55 L61 L56 | L56 L58 L54 L59 | L59 L54 L62 | L56 L61 L55 L57 | L54 L58 L56 | L61 L54 L55 | L59 L60 L62 L54 | L54 L58 L59 | L62 L61 L54 | L82 L83 L81 L76 | L79 L83 L82 | L81 L83 L77 | L83 L86 L79 | L79 L86 L82 L83 | L82 L81 L83 | L83 L81 L85 L77 | L77 L85 L83 | L86 L80 L85 L79 | L79 L85 L86 | L85 L79 L84 L81 | L81 L84 L82 | L86 L77 L85 | L82 L84 L77 L86 | L77 L86 L87 L85 | L85 L84 L79 | L84 L79 L81 | L81 L78 L82 L84 | L82 L77 L84 | L77 L84 L86 | L98 L89 L95 L88 | L94 L89 L98 | L95 L89 L97 | L94 L91 L98 L89 | L89 L91 L94 | L98 L95 L89 | L95 L92 L97 L89 | L97 L92 L89 | L99 L92 L94 L91 | L94 L92 L91 | L98 L90 L97 L91 | L91 L97 L92 | L92 L94 L90 L95 | L95 L90 L98 | L92 L97 L91 L93 | L90 L94 L92 | L97 L90 L91 | L95 L96 L98 L90 | L90 L94 L95 | L98 L97 L90 | L100 L105 L101 | L101 L105 L102 L103 | L105 L107 L100 | L100 L107 L101 L105 | L101 L102 L105 | L102 L105 L108 | L107 L110 L111 L100 | L100 L111 L107 | L102 L106 L101 | L111 L108 L105 L102 | L111 L100 L106 L102 | L101 L106 L108 L107 | L107 L108 L111 | L108 L111 L105 | L111 L106 L100 | L106 L102 L109 L101 | L101 L108 L106 | L106 L100 L102 | L108 L106 L107 | L107 L104 L111 L108 | L122 L114 L120 | L112 L121 L114 L122 | L119 L114 L121 | L120 L118 L114 | L114 L122 L118 L120 | L114 L121 L122 | L119 L117 L121 L114 | L114 L117 L119 | L118 L120 L117 L115 | L118 L117 L120 | L121 L116 L120 L117 | L117 L119 L118 | L122 L116 L121 | L118 L119 L116 L122 | L113 L118 L119 L117 | L117 L120 L116 | L118 L116 L119 | L121 L120 L116 | L116 L122 L123 L121 | L116 L119 L122 | L124 L125 L126 L127 | L128 L129 L130 L131 | L132 L133 L134 L135 | L136 L137 L138 L139
sketch "草圖3" plane through (0, 0, 3) normal (0, 0, 1) x (1, 0, 0)
  line L0 (150, 65) -> (-150, 65) projected
  line L1 (-150, -65) -> (150, -65) projected
  line L2 (-150, 65) -> (-145, 65)
  line L3 (-145, 65) -> (-145, -65)
  line L4 (-145, -65) -> (-150, -65)
  line L5 (-150, -65) -> (-150, 65)
  line L6 (150, 65) -> (145, 65)
  line L7 (145, 65) -> (145, -65)
  line L8 (145, -65) -> (150, -65)
  line L9 (150, -65) -> (150, 65)
  point P0 (0, 0)
  dimension "d28" = 5
  dimension "d29" = 5
extrude "擠出3" cut sketch "草圖3" against normal up to surface (3 mm away) contours L9 L1 L7 L0 | L3 L1 L5 L0
sketch "草圖4" plane through (0, 0, 0) normal (0, 0, -1) x (-1, 0, 0)
  line L0 (-60, 22.5) -> (60, 22.5)
  line L1 (60, 22.5) -> (60, -22.5)
  line L2 (60, -22.5) -> (-60, -22.5)
  line L3 (-60, -22.5) -> (-60, 22.5)
  line L4 (-60, 22.5) -> (60, -22.5) construction
  line L5 (60, 22.5) -> (-60, -22.5) construction
  point P0 (0, 0)
  dimension "d32" = 120
  dimension "d33" = 45
extrude "擠出4" cut sketch "草圖4" against normal up to surface (3 mm away)
properties part number "plate_expansion"
